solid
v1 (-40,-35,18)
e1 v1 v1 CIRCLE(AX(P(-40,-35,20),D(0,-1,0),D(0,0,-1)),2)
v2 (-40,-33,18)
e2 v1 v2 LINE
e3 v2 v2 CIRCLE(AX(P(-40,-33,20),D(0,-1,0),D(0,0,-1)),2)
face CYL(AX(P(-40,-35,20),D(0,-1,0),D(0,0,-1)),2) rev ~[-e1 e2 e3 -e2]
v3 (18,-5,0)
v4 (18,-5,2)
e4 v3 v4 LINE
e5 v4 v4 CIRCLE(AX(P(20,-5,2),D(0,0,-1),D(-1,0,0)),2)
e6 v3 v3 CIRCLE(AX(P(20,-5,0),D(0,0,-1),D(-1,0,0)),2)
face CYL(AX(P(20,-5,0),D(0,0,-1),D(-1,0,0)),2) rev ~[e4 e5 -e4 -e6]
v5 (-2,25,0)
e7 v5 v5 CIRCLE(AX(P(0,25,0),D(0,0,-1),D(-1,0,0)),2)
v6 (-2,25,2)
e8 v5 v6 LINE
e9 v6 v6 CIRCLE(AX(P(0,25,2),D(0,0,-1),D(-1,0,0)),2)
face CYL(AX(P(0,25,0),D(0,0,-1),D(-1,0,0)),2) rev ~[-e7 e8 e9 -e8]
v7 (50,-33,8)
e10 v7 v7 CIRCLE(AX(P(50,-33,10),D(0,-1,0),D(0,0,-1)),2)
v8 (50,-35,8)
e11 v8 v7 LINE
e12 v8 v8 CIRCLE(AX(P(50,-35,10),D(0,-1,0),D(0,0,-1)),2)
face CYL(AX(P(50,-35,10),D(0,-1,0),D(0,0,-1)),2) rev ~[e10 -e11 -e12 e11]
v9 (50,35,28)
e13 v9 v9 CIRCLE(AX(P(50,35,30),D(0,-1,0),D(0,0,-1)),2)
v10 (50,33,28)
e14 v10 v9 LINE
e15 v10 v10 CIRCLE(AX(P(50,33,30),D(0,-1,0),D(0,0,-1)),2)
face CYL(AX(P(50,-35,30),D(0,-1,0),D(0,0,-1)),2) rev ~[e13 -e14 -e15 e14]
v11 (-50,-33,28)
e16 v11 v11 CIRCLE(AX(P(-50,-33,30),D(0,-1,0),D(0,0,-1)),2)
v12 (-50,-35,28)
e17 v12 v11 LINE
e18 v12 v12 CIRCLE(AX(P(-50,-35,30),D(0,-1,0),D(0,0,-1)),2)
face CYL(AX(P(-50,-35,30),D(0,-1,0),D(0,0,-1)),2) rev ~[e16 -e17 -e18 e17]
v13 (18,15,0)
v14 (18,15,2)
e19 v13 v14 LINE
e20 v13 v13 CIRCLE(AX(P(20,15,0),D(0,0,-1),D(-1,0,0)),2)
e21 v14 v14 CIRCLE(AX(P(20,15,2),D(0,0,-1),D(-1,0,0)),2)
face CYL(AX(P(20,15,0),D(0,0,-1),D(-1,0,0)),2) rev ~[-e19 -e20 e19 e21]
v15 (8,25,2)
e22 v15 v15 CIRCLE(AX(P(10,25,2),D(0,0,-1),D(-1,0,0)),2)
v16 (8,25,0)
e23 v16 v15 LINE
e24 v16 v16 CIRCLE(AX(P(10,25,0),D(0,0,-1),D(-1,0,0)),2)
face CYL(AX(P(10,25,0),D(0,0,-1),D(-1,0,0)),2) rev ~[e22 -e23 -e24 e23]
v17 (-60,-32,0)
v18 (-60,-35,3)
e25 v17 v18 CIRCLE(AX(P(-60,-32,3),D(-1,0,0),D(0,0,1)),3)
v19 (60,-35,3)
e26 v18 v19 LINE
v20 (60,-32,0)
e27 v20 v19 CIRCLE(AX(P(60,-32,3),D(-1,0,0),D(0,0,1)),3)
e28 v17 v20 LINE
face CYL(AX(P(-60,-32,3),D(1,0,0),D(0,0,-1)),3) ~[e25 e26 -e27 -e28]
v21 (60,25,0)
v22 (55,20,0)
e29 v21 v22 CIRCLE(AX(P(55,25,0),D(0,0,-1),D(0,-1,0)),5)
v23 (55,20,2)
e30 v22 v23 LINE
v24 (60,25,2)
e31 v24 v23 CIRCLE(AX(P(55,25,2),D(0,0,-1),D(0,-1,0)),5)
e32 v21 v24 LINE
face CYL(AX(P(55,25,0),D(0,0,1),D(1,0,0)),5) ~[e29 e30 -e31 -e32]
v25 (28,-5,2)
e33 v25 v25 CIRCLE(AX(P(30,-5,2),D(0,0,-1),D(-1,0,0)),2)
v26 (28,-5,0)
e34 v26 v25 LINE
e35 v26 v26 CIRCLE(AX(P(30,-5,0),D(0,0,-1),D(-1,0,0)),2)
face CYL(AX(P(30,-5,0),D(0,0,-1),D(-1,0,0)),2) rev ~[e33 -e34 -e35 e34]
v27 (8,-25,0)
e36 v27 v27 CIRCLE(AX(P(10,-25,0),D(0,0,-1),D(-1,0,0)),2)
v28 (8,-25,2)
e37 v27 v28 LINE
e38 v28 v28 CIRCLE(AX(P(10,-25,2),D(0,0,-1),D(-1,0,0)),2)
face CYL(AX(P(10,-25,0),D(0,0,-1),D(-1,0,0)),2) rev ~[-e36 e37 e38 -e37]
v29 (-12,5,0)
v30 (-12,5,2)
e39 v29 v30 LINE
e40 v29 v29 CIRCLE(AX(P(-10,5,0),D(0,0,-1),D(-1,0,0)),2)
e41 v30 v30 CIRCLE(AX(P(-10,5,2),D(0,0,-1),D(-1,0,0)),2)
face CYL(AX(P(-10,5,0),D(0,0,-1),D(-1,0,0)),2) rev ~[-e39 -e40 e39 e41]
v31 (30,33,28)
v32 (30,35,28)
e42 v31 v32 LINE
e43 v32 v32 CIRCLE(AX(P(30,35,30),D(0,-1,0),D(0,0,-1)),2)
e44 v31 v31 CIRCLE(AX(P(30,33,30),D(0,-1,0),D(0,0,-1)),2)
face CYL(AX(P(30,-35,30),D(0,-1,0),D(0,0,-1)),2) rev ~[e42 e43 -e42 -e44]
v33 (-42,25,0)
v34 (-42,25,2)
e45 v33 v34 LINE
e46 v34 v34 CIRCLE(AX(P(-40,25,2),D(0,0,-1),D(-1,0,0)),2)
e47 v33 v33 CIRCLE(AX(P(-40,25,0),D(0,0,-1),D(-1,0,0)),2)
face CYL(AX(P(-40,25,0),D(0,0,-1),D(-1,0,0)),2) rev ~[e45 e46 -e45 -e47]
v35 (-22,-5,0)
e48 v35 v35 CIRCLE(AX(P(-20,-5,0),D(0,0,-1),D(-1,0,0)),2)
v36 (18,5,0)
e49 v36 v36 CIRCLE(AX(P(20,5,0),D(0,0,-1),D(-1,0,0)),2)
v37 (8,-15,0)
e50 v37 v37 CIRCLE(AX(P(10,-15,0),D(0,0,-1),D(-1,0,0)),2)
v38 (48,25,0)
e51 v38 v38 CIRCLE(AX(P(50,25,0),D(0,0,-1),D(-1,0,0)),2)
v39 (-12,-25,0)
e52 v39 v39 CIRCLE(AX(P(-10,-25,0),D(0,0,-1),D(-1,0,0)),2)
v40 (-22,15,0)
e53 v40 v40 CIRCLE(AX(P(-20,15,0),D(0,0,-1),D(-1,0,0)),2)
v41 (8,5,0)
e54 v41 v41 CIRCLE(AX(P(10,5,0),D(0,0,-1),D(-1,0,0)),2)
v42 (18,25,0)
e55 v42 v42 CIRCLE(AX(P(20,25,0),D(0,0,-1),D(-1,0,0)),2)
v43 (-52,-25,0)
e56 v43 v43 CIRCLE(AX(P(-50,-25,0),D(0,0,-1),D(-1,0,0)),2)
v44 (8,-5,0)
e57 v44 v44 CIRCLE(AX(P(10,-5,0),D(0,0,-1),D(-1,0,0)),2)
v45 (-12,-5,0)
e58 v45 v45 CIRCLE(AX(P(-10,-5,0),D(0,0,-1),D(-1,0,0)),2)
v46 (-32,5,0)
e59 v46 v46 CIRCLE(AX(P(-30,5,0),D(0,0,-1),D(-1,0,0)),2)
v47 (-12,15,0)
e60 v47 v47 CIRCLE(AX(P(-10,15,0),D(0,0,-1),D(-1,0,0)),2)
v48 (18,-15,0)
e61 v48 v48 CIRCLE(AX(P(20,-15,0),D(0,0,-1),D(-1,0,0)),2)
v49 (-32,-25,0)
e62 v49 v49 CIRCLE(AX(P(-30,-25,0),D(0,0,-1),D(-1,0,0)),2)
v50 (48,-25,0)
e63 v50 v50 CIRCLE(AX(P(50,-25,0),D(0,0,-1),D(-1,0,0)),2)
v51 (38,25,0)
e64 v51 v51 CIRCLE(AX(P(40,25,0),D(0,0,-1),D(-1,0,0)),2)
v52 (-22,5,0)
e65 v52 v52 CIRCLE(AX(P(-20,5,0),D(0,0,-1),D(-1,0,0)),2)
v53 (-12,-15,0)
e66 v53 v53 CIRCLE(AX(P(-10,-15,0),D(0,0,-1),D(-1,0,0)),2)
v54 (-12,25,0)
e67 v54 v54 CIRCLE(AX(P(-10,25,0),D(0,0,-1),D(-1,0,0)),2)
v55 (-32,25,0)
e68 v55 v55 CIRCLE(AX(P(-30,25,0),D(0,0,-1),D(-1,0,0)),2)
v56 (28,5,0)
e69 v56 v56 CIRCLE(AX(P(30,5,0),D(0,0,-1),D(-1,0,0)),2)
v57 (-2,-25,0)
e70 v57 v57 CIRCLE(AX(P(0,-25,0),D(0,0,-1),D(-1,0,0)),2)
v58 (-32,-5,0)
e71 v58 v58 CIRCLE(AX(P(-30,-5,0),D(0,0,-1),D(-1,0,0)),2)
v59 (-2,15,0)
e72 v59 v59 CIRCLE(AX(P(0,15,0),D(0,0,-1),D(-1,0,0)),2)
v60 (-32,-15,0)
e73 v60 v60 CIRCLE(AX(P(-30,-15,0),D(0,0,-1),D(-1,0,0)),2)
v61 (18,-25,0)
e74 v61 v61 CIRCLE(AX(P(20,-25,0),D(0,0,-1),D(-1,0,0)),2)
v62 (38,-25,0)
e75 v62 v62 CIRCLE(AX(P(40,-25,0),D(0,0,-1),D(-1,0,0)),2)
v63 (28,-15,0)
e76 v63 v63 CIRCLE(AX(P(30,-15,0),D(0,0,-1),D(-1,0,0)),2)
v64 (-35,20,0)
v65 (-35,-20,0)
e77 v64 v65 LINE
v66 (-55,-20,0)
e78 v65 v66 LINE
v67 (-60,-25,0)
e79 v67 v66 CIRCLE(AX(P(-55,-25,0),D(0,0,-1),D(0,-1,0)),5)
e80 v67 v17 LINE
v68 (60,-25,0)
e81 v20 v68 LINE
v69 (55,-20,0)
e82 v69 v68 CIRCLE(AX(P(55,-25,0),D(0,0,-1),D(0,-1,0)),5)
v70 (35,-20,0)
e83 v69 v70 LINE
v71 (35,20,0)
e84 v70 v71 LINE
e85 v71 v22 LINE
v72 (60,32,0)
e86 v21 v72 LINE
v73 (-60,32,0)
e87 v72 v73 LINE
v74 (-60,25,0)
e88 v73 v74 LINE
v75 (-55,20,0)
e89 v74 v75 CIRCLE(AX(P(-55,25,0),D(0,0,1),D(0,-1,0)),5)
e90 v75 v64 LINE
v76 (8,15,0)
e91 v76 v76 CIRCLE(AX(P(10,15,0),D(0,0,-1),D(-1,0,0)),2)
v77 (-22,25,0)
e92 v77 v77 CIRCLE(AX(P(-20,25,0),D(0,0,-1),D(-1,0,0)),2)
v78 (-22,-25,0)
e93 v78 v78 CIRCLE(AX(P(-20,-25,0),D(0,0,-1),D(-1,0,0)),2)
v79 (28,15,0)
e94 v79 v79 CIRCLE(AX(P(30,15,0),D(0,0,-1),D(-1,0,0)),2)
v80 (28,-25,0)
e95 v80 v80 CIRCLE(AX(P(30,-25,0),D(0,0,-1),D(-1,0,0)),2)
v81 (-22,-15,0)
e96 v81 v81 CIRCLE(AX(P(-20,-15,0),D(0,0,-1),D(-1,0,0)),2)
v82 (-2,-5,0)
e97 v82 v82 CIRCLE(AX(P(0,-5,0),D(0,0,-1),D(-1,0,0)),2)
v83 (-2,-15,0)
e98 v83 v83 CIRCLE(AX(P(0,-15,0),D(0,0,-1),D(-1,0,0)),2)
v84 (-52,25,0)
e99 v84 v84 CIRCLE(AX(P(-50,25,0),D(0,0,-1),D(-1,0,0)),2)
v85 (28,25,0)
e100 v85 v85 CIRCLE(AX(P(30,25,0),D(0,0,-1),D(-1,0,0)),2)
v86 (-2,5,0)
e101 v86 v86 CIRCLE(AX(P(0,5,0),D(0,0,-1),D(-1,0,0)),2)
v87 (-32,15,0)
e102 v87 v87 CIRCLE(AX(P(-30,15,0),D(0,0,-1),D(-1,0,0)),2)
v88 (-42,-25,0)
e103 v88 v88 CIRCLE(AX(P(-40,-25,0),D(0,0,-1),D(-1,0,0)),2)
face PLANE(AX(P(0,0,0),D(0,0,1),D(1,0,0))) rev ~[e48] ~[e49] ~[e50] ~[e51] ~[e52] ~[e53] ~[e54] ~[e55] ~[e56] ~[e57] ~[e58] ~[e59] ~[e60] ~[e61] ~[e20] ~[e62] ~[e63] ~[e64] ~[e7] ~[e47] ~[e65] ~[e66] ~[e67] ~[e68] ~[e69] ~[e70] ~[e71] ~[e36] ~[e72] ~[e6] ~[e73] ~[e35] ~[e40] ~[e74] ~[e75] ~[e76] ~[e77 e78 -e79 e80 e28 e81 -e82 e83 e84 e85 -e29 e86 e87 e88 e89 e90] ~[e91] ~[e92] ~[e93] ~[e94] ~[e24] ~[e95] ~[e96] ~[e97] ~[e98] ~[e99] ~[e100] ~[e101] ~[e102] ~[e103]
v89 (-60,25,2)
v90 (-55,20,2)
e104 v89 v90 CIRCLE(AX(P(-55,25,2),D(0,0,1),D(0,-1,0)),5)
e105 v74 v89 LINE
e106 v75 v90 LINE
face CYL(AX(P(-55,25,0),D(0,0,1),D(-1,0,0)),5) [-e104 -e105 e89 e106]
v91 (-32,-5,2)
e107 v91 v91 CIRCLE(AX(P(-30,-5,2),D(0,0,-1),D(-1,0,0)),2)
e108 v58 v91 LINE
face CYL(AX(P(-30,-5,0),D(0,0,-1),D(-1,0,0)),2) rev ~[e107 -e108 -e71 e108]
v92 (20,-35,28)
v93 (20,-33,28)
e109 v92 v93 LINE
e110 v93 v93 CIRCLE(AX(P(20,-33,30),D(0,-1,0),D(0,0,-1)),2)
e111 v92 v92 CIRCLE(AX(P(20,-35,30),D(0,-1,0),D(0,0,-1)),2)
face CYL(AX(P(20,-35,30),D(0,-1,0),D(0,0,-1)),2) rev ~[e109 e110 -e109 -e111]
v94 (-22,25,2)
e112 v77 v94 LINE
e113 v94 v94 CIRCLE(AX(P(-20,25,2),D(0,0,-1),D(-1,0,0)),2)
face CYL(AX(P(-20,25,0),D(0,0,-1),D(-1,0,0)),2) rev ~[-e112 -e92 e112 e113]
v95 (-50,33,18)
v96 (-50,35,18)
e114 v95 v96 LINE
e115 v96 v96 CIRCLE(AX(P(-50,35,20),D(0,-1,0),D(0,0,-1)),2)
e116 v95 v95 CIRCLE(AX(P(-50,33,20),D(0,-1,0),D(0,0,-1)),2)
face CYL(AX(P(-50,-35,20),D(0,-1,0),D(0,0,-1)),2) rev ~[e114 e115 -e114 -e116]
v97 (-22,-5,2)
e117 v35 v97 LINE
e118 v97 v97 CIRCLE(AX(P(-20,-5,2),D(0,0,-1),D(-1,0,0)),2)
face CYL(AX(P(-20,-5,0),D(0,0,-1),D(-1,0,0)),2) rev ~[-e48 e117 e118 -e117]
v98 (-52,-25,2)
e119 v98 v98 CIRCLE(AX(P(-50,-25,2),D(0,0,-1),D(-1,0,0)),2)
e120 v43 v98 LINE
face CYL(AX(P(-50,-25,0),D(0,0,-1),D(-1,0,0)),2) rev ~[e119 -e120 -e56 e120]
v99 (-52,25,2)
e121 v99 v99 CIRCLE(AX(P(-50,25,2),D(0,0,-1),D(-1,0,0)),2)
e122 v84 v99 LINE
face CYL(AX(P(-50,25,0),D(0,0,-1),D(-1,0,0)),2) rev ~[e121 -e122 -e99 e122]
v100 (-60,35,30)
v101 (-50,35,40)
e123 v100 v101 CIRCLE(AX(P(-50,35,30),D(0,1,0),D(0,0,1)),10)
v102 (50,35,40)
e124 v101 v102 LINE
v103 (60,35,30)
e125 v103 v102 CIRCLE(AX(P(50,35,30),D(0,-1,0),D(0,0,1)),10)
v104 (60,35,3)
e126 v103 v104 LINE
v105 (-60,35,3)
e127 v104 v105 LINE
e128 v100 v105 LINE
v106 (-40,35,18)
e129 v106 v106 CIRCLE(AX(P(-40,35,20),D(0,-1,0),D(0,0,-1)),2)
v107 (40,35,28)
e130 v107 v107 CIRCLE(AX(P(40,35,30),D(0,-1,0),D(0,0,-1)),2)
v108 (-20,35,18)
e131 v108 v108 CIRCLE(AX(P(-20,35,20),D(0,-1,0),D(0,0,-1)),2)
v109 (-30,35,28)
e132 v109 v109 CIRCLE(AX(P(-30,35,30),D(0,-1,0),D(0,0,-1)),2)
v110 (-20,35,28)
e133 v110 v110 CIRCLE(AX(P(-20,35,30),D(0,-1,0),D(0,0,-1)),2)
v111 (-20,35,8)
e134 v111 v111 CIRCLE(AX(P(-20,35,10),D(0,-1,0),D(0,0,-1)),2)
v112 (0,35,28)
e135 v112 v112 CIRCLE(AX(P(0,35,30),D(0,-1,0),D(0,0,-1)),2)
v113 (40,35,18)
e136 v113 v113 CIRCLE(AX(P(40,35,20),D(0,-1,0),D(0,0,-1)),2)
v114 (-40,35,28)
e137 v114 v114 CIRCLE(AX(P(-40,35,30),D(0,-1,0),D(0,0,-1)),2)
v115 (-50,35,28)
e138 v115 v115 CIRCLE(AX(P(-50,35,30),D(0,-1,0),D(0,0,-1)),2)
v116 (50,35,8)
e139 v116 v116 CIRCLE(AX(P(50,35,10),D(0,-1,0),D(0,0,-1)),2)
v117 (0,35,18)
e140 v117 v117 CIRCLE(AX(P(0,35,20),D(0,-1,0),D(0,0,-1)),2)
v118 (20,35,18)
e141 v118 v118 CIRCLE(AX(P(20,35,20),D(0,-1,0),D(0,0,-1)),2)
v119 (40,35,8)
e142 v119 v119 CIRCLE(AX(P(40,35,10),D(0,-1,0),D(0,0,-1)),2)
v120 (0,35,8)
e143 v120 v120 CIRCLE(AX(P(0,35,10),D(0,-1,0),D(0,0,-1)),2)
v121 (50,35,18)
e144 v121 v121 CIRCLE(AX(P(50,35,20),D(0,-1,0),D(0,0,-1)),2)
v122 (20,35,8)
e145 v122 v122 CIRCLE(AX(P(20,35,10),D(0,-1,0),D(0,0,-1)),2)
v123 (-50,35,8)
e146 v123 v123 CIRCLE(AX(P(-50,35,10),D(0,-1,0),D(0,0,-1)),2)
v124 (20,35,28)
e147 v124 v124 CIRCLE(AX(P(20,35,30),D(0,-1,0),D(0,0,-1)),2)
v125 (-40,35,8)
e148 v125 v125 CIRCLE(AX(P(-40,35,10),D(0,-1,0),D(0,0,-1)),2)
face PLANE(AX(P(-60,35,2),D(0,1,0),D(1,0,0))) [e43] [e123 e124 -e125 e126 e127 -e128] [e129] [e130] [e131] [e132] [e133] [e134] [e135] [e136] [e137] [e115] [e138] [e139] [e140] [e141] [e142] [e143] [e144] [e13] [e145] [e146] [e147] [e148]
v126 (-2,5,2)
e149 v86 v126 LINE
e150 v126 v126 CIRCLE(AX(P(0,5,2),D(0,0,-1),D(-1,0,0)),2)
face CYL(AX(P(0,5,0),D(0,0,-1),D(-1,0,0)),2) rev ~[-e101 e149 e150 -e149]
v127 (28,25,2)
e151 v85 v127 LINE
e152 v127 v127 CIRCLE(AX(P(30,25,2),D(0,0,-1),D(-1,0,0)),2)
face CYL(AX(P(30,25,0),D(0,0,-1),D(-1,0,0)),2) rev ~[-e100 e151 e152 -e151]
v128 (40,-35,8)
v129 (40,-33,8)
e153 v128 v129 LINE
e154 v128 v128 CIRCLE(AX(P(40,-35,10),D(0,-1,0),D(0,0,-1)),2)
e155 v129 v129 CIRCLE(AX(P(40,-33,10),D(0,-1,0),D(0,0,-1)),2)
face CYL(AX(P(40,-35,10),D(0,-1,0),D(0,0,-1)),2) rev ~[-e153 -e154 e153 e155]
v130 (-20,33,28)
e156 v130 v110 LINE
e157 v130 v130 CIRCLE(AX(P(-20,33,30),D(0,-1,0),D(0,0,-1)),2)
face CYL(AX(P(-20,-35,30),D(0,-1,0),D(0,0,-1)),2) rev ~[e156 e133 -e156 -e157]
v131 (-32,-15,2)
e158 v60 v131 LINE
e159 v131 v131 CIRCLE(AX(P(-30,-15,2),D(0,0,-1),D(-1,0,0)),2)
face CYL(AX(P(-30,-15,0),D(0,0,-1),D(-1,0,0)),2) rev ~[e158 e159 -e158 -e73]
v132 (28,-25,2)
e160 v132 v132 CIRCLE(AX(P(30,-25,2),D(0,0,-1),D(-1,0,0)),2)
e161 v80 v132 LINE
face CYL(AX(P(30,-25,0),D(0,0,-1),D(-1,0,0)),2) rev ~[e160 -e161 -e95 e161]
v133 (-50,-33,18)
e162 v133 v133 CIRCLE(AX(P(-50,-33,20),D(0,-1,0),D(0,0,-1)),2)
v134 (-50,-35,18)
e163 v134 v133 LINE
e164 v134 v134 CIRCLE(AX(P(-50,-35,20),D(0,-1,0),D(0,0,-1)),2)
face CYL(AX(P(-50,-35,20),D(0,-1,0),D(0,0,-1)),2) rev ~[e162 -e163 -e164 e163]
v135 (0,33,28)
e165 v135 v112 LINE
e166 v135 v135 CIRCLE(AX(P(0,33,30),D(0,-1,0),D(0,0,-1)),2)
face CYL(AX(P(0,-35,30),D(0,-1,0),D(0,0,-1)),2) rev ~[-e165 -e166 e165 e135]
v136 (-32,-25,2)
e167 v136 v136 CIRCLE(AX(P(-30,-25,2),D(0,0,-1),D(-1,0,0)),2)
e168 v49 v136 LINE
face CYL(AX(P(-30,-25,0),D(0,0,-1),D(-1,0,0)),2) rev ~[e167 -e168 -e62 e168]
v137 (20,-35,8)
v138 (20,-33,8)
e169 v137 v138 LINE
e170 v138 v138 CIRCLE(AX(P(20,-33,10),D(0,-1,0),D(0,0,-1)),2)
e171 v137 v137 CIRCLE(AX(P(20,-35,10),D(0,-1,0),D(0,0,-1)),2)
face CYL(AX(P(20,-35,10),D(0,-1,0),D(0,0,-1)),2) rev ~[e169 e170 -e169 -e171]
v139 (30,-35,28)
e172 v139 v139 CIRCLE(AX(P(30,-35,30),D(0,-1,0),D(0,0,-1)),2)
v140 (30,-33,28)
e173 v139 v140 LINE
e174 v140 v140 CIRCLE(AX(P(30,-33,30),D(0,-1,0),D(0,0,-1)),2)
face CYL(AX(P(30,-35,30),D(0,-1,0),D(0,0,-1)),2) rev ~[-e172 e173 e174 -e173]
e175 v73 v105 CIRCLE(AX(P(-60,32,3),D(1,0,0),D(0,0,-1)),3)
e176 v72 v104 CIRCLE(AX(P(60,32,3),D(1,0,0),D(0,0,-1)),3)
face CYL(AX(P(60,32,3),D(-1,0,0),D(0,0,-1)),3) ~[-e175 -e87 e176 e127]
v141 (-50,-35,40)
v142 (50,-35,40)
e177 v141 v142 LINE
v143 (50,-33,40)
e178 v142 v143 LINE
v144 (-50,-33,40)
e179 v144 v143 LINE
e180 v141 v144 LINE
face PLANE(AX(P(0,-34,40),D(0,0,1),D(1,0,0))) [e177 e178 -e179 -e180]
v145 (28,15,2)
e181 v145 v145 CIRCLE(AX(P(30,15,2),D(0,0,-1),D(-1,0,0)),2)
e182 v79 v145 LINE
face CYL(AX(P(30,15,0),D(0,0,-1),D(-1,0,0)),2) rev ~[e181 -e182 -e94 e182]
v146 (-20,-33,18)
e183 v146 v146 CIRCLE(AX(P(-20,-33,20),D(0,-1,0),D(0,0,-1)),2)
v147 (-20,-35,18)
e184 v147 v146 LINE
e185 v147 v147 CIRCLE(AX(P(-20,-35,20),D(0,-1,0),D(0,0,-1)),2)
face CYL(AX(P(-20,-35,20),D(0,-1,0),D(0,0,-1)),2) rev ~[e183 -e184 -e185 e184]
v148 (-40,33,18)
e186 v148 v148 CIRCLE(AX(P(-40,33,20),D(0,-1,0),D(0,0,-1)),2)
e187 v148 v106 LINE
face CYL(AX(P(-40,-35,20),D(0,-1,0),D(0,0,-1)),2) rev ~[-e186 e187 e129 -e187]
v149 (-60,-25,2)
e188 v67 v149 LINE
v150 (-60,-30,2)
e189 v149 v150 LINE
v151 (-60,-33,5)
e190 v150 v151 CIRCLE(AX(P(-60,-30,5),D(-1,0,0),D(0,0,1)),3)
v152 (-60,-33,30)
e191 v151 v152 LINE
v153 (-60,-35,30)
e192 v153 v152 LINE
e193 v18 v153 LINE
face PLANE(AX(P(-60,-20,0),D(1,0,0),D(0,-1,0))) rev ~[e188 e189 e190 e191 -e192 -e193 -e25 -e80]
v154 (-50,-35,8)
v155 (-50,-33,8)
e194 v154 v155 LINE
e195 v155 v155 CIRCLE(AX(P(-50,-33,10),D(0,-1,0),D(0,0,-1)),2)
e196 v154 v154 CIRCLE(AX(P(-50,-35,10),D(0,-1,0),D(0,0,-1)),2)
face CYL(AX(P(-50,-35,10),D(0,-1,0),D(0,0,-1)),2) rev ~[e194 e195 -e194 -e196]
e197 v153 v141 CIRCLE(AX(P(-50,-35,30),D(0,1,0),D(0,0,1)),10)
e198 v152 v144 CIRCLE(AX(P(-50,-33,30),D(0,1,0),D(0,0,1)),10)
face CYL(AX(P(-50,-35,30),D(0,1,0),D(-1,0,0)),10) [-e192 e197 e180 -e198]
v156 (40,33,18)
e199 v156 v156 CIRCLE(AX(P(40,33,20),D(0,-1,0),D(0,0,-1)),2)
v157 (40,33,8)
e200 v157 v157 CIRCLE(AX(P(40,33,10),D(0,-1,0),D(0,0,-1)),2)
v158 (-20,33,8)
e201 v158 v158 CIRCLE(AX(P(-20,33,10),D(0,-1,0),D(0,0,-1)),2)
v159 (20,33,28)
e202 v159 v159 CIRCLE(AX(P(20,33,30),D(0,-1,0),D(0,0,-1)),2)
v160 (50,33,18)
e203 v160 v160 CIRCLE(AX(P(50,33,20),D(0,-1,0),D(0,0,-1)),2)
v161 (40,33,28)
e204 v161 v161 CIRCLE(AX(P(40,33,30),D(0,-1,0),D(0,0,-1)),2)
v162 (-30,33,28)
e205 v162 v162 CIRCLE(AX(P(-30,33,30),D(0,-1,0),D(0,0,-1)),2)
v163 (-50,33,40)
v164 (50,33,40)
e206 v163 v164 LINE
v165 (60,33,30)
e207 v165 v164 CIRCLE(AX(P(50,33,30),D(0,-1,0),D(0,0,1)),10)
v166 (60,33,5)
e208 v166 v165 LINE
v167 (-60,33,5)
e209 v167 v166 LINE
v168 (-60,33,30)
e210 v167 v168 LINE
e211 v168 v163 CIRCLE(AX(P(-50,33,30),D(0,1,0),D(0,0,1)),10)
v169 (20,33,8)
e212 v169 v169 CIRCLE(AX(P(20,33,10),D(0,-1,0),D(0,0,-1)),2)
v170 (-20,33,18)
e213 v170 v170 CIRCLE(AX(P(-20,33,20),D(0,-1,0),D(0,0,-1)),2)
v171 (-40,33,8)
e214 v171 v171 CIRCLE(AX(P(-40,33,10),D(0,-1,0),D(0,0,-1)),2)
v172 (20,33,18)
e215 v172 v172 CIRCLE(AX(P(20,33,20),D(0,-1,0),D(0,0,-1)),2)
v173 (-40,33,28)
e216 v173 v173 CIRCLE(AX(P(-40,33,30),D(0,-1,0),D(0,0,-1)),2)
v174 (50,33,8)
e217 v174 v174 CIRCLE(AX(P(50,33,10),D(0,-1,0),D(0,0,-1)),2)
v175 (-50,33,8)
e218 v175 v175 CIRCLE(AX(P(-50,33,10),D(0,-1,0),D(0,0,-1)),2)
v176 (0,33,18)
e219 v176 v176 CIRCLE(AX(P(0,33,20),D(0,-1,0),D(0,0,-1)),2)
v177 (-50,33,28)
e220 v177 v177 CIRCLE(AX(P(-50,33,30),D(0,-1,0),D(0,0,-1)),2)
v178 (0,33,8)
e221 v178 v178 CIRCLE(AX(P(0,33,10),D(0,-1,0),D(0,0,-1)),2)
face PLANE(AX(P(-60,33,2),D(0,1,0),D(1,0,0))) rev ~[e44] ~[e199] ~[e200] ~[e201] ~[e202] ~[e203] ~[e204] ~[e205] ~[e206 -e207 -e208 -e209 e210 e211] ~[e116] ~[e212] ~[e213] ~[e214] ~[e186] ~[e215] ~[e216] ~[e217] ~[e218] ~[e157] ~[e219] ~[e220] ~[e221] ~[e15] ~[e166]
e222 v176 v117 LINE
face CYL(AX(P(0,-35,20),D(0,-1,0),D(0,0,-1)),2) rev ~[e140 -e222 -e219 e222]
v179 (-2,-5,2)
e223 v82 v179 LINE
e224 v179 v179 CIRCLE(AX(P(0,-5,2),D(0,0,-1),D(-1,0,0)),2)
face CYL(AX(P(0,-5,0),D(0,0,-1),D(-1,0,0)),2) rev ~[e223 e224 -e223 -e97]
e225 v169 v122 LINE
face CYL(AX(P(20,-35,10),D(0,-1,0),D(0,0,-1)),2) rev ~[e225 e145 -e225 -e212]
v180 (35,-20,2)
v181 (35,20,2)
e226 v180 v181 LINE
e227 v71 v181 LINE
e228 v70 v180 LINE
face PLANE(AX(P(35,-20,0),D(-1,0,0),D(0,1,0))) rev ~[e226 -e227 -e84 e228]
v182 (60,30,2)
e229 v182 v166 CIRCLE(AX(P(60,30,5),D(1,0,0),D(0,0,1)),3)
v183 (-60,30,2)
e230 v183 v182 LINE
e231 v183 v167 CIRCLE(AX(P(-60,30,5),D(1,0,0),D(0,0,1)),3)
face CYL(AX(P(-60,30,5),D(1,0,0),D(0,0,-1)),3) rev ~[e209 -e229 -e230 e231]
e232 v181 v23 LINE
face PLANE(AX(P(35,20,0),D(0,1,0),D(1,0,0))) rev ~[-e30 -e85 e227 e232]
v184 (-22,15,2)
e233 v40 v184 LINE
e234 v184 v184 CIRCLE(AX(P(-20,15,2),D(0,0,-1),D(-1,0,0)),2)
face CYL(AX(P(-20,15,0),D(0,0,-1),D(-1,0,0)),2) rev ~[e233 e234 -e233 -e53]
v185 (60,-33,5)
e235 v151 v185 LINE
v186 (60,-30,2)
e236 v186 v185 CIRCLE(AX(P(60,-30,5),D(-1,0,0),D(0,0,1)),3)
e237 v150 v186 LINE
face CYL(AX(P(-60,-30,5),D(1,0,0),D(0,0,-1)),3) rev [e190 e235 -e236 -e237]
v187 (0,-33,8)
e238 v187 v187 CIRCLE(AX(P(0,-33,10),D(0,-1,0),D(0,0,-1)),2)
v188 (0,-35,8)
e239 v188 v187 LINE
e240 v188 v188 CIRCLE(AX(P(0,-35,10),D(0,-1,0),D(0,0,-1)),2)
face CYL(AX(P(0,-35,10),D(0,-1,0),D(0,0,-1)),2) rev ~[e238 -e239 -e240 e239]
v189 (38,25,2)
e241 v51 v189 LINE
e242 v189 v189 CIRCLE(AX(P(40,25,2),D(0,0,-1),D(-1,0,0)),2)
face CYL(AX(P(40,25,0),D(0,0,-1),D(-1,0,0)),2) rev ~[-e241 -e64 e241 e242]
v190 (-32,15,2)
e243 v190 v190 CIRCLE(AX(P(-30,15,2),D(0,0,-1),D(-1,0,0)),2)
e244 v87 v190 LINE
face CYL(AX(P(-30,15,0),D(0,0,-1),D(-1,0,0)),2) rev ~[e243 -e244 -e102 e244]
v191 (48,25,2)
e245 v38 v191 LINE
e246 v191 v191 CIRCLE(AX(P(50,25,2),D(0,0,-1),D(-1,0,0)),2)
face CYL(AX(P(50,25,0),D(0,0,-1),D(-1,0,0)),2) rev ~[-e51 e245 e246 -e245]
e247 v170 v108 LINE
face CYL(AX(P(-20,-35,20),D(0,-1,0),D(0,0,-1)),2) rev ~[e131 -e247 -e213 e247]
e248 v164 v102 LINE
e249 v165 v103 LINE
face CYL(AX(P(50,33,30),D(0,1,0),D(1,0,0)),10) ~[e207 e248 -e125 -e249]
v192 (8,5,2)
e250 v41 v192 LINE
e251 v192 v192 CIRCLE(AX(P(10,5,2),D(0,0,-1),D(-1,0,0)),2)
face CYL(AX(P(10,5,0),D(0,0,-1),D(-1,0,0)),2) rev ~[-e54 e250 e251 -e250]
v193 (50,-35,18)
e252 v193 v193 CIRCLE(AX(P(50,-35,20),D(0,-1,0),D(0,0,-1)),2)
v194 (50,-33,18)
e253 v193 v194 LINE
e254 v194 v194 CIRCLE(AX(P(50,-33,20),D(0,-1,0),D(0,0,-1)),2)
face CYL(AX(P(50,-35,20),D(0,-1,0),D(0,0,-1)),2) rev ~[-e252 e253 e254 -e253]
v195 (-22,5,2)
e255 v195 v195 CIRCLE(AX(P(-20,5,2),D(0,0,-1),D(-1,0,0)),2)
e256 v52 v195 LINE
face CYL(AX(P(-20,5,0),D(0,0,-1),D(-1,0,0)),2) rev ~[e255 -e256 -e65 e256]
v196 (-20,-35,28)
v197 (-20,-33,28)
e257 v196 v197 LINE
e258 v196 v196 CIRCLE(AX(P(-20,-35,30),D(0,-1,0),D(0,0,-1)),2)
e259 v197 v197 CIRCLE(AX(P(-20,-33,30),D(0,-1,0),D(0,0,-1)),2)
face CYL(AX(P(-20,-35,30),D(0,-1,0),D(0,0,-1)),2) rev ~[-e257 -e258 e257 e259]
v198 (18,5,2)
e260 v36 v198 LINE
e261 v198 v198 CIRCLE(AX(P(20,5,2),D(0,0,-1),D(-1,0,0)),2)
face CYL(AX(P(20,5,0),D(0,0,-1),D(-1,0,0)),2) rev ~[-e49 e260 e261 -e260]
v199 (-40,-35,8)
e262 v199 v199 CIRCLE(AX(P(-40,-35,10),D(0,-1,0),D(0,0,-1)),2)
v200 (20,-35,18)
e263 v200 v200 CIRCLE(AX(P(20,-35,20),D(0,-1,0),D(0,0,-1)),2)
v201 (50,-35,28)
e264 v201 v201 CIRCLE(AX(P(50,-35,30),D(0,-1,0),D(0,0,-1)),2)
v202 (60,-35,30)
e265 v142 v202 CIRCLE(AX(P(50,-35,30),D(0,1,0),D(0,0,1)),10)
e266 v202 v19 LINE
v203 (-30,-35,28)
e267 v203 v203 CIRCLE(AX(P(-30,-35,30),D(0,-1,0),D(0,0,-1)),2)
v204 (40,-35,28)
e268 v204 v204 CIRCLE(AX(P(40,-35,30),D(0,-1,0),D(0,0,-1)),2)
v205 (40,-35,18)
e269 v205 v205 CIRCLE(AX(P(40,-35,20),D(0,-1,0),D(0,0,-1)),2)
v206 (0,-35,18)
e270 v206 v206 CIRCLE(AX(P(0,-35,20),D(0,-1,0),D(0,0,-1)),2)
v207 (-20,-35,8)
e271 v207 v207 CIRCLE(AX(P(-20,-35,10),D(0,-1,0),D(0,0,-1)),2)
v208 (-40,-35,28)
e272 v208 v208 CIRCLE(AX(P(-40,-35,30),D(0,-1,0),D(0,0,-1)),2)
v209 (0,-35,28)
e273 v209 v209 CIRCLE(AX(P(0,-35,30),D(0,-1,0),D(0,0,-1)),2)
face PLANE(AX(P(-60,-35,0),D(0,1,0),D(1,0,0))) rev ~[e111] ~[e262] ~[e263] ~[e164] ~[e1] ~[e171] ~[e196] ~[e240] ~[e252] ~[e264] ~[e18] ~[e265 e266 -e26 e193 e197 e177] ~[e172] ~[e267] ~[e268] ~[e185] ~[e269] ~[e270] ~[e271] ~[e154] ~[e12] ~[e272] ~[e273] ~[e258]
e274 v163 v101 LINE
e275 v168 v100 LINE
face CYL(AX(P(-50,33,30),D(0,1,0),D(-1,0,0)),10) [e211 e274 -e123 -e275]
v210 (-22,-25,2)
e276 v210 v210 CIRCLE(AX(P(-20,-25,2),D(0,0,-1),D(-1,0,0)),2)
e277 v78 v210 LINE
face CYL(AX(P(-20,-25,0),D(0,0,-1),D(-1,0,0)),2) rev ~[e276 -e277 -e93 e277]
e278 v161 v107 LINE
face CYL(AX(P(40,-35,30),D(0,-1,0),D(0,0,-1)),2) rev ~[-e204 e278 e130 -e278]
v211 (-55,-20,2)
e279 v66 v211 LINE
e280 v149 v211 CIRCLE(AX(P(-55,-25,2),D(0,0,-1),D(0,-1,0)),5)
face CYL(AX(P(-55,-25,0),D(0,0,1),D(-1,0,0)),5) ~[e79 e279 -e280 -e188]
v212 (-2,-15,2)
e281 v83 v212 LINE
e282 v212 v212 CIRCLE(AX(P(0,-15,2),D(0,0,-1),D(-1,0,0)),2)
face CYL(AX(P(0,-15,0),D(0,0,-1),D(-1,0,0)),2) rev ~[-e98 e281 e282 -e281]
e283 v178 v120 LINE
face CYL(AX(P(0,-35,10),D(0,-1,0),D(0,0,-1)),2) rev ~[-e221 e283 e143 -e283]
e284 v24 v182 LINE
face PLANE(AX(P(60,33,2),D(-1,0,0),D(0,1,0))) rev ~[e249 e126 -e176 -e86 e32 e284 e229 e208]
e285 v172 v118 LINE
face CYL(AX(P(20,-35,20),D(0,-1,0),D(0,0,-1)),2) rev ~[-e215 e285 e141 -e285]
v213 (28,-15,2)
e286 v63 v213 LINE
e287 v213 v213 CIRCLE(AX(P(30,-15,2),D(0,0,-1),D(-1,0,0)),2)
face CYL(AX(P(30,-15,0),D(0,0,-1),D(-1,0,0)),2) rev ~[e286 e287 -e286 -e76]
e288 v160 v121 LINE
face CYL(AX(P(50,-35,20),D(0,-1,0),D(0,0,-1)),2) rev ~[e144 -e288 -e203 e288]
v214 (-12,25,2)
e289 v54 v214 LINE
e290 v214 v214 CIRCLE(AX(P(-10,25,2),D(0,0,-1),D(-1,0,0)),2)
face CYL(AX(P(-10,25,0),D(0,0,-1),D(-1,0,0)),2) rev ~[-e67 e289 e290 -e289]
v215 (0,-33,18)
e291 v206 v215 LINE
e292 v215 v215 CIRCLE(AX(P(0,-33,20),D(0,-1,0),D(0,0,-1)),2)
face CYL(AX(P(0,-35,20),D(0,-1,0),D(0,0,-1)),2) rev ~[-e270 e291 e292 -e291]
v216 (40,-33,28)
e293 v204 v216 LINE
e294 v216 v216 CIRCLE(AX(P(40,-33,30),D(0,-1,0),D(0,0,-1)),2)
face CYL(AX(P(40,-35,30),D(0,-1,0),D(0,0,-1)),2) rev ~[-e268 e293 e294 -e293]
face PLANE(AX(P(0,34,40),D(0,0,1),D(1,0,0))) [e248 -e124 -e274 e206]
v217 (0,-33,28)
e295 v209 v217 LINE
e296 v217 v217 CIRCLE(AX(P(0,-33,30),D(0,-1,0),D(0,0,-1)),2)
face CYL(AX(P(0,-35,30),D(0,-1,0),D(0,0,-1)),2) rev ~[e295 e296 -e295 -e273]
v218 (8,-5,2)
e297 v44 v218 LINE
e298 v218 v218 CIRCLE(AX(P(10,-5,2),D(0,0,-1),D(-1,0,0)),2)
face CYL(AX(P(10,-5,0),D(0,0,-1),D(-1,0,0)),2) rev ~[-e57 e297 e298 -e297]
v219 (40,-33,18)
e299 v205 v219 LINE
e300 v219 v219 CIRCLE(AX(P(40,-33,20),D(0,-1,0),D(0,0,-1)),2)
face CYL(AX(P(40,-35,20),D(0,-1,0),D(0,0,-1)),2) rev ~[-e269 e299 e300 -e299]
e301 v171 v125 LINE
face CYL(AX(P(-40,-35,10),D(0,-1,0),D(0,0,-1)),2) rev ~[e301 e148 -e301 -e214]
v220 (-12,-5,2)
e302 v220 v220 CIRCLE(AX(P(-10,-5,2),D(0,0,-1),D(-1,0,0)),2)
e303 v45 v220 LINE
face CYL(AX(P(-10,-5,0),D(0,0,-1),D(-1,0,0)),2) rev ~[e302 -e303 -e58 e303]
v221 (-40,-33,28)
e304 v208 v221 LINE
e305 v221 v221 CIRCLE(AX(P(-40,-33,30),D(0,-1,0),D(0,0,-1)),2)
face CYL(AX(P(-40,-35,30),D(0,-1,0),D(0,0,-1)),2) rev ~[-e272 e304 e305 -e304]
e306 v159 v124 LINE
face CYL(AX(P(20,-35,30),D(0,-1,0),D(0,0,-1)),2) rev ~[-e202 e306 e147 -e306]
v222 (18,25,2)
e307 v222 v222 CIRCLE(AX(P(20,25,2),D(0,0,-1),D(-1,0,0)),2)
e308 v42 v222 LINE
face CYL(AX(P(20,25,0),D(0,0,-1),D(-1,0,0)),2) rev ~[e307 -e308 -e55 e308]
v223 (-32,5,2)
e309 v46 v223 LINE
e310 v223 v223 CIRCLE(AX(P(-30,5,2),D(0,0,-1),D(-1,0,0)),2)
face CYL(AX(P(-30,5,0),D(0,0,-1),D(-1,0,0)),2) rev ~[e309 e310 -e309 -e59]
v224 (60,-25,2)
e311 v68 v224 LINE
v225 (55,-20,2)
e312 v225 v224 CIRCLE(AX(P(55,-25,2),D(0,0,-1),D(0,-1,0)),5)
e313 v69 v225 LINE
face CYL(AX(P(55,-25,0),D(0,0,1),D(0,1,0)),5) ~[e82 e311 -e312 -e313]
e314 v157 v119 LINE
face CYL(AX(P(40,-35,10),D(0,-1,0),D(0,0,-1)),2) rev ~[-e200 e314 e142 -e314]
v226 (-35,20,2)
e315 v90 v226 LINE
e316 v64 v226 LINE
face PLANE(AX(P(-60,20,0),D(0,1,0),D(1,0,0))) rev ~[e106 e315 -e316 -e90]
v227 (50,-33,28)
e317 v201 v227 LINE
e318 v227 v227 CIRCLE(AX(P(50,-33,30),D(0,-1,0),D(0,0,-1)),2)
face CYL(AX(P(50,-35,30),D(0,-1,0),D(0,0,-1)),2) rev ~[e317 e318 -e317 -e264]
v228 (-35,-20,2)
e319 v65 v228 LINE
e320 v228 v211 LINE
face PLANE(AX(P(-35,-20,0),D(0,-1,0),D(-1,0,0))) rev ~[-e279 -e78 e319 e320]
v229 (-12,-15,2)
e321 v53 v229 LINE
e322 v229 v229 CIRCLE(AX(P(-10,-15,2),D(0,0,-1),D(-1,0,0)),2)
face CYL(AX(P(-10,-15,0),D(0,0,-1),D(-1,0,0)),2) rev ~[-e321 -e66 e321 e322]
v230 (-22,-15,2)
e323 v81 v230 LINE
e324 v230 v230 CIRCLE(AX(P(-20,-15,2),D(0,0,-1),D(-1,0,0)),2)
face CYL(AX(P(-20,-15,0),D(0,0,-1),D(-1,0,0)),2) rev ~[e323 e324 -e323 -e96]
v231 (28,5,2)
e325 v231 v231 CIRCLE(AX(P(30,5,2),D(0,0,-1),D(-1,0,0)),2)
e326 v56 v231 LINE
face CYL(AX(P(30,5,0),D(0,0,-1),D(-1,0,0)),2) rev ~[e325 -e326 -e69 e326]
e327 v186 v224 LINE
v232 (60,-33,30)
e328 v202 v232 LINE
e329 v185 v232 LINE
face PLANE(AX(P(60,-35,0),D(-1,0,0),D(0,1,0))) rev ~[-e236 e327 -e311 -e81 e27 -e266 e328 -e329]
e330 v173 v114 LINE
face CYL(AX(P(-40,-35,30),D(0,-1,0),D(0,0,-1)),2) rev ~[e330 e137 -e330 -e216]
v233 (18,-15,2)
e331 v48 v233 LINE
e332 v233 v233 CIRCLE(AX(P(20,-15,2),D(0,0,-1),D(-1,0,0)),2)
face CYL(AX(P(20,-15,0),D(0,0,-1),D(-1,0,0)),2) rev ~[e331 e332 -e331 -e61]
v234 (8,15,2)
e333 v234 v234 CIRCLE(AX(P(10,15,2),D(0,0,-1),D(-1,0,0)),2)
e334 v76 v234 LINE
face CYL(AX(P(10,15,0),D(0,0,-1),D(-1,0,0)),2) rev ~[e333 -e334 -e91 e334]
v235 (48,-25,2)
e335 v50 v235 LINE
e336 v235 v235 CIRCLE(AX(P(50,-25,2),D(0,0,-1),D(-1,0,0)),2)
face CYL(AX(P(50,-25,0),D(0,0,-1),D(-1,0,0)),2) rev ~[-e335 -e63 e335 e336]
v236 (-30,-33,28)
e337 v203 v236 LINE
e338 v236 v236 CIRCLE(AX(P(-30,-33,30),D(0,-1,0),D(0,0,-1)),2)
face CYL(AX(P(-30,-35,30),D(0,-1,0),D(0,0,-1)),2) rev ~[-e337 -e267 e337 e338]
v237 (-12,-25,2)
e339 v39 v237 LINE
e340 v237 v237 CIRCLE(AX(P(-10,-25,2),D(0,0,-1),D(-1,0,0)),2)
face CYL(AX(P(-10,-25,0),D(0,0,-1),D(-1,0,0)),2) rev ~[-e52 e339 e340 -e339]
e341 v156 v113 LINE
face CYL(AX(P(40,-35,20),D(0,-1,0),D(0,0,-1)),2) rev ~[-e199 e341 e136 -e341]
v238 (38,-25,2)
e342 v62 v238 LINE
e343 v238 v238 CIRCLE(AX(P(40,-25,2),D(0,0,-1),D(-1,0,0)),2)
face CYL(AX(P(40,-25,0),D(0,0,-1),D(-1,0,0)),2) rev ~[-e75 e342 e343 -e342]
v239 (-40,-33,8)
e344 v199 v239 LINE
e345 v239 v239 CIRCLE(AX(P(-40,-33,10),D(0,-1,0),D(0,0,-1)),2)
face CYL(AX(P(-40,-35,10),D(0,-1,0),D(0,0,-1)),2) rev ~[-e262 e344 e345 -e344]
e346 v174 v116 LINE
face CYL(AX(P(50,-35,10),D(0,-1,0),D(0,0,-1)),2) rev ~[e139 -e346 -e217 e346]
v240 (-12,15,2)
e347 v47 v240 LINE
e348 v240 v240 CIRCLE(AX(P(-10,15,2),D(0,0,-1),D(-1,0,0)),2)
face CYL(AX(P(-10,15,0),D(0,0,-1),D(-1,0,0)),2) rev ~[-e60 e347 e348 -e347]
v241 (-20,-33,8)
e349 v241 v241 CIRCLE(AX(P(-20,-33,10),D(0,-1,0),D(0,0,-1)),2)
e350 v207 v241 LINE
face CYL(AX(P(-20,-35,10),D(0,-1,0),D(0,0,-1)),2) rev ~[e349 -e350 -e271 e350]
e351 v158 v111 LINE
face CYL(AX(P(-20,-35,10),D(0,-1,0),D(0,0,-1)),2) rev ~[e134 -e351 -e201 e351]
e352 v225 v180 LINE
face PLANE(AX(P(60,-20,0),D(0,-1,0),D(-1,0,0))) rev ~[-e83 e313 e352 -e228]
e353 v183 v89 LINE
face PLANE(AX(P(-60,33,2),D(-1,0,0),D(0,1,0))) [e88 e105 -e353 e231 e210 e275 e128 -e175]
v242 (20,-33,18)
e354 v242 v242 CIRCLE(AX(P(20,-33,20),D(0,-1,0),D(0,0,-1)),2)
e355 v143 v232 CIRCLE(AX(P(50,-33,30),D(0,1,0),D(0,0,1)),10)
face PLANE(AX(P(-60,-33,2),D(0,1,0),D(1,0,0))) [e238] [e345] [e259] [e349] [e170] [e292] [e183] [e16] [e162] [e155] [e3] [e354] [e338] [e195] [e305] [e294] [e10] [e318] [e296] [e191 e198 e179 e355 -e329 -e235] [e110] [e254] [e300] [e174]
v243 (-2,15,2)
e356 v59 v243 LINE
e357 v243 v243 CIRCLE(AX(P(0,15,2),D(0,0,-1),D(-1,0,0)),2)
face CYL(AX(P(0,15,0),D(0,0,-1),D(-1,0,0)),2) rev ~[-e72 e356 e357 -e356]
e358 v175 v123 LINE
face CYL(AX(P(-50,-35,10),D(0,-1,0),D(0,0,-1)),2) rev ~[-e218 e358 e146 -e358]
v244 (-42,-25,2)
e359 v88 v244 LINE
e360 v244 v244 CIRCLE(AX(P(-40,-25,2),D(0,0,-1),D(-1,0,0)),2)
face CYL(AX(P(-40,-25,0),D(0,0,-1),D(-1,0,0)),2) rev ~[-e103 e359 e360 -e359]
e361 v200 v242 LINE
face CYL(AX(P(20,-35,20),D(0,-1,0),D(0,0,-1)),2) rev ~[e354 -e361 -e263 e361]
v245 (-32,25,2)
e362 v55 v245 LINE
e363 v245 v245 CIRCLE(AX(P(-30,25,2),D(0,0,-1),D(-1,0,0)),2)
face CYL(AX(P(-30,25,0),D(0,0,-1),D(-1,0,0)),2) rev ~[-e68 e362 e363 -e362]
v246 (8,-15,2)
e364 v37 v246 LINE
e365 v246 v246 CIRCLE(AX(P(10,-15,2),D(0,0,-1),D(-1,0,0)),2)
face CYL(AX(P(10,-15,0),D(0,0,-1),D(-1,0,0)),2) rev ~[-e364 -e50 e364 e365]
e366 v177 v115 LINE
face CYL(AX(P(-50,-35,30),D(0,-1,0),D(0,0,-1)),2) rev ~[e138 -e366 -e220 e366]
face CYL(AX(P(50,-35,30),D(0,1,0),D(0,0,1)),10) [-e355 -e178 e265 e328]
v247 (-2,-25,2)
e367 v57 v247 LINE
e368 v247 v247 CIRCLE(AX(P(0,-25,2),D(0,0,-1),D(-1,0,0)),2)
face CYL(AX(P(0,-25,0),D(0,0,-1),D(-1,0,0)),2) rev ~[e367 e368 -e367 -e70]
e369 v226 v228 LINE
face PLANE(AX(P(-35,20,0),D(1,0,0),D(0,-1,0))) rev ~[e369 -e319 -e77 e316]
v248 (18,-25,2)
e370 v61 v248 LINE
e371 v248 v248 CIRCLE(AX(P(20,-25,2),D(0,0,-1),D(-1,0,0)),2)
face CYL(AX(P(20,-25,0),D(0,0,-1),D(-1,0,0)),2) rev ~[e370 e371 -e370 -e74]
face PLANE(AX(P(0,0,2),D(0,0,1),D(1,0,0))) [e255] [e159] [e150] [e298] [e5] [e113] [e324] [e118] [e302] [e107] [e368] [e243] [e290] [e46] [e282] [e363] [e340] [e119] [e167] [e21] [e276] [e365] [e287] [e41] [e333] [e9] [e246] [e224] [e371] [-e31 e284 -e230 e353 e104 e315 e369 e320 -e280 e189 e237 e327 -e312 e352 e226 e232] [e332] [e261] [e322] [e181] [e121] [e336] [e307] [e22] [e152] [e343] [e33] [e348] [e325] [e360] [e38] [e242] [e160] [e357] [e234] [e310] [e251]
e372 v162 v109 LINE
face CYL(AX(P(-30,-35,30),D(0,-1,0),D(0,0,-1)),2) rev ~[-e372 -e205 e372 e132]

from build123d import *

# Parameters (mm, degrees)
Y_KSEKLIK_EKSTR_ZYON1_DEPTH = 2
IZIM2_W                     = 120
IZIM2_H                     = 2
Y_KSEKLIK_EKSTR_ZYON2_DEPTH = 38
RADYUS1_R                   = 10
RADYUS2_R                   = 5
IZIM3_R                     = 2
KES_EKSTR_ZYON1_DEPTH       = 2
RADYUS3_R                   = 3
IZIM4_R                     = 2
KES_EKSTR_ZYON2_DEPTH       = 101.498756211


with BuildPart() as part:
    # Çizim1 → Yükseklik-Ekstrüzyon1 (new body)
    with BuildSketch(Plane.XY):
        Polygon((-60, 20), (-35, 20), (-35, -20), (-60, -20), (-60, -35), (60, -35), (60, -20), (35, -20), (35, 20), (60, 20), (60, 35), (-60, 35), align=None)
    extrude(amount=Y_KSEKLIK_EKSTR_ZYON1_DEPTH)

    # Çizim2 → Yükseklik-Ekstrüzyon2 (add)
    with BuildSketch(Plane.XY.offset(2)):
        with Locations((0, 34)):
            Rectangle(IZIM2_W, IZIM2_H)
        with Locations((0, -34)):
            Rectangle(IZIM2_W, IZIM2_H)
    extrude(amount=Y_KSEKLIK_EKSTR_ZYON2_DEPTH)

    # Radyus1
    radyus1_edges = [part.edges().sort_by_distance(p)[0] for p in [
        (-60, 34, 40),
        (60, 34, 40),
        (60, -34, 40),
        (-60, -34, 40),
    ]]
    fillet(radyus1_edges, radius=RADYUS1_R)

    # Radyus2
    radyus2_edges = [part.edges().sort_by_distance(p)[0] for p in [
        (60, -20, 1),
        (60, 20, 1),
        (-60, -20, 1),
        (-60, 20, 1),
    ]]
    fillet(radyus2_edges, radius=RADYUS2_R)

    # Çizim3 → Kes-Ekstrüzyon1 (cut)
    with BuildSketch(Plane(origin=(0, 0, 0), x_dir=(-1, 0, 0), z_dir=(0, 0, -1))):
        with Locations((30, -25)):
            Circle(IZIM3_R)
        with Locations((40, -25)):
            Circle(IZIM3_R)
        with Locations((50, -25)):
            Circle(IZIM3_R)
        with Locations((20, -25)):
            Circle(IZIM3_R)
        with Locations((10, -25)):
            Circle(IZIM3_R)
        with Locations((0, -25)):
            Circle(IZIM3_R)
        with Locations((-10, -25)):
            Circle(IZIM3_R)
        with Locations((-20, -25)):
            Circle(IZIM3_R)
        with Locations((-30, -25)):
            Circle(IZIM3_R)
        with Locations((20, -15)):
            Circle(IZIM3_R)
        with Locations((10, -15)):
            Circle(IZIM3_R)
        with Locations((0, -15)):
            Circle(IZIM3_R)
        with Locations((-10, -15)):
            Circle(IZIM3_R)
        with Locations((-20, -15)):
            Circle(IZIM3_R)
        with Locations((-30, -15)):
            Circle(IZIM3_R)
        with Locations((20, -5)):
            Circle(IZIM3_R)
        with Locations((10, -5)):
            Circle(IZIM3_R)
        with Locations((0, -5)):
            Circle(IZIM3_R)
        with Locations((-10, -5)):
            Circle(IZIM3_R)
        with Locations((-20, -5)):
            Circle(IZIM3_R)
        with Locations((-30, -5)):
            Circle(IZIM3_R)
        with Locations((20, 5)):
            Circle(IZIM3_R)
        with Locations((10, 5)):
            Circle(IZIM3_R)
        with Locations((0, 5)):
            Circle(IZIM3_R)
        with Locations((-10, 5)):
            Circle(IZIM3_R)
        with Locations((-20, 5)):
            Circle(IZIM3_R)
        with Locations((-30, 5)):
            Circle(IZIM3_R)
        with Locations((20, 15)):
            Circle(IZIM3_R)
        with Locations((10, 15)):
            Circle(IZIM3_R)
        with Locations((0, 15)):
            Circle(IZIM3_R)
        with Locations((-10, 15)):
            Circle(IZIM3_R)
        with Locations((-20, 15)):
            Circle(IZIM3_R)
        with Locations((-30, 15)):
            Circle(IZIM3_R)
        with Locations((20, 25)):
            Circle(IZIM3_R)
        with Locations((10, 25)):
            Circle(IZIM3_R)
        with Locations((0, 25)):
            Circle(IZIM3_R)
        with Locations((-10, 25)):
            Circle(IZIM3_R)
        with Locations((-20, 25)):
            Circle(IZIM3_R)
        with Locations((-30, 25)):
            Circle(IZIM3_R)
        with Locations((30, -15)):
            Circle(IZIM3_R)
        with Locations((30, -5)):
            Circle(IZIM3_R)
        with Locations((30, 5)):
            Circle(IZIM3_R)
        with Locations((30, 15)):
            Circle(IZIM3_R)
        with Locations((30, 25)):
            Circle(IZIM3_R)
        with Locations((40, 25)):
            Circle(IZIM3_R)
        with Locations((50, 25)):
            Circle(IZIM3_R)
        with Locations((-40, 25)):
            Circle(IZIM3_R)
        with Locations((-50, 25)):
            Circle(IZIM3_R)
        with Locations((-40, -25)):
            Circle(IZIM3_R)
        with Locations((-50, -25)):
            Circle(IZIM3_R)
    extrude(amount=-KES_EKSTR_ZYON1_DEPTH, mode=Mode.SUBTRACT)

    # Radyus3
    radyus3_edges = [part.edges().sort_by_distance(p)[0] for p in [
        (0, 35, 0),
        (0, 33, 2),
        (0, -33, 2),
        (0, -35, 0),
    ]]
    fillet(radyus3_edges, radius=RADYUS3_R)

    # Çizim4 → Kes-Ekstrüzyon2 (cut, through all)
    with BuildSketch(Plane.XZ.offset(35)):
        with Locations(Location((0, 10, 0), (0, 0, 270))):
            Circle(IZIM4_R)
        with Locations(Location((20, 10, 0), (0, 0, 270))):
            Circle(IZIM4_R)
        with Locations(Location((40, 10, 0), (0, 0, 270))):
            Circle(IZIM4_R)
        with Locations(Location((20, 20, 0), (0, 0, 270))):
            Circle(IZIM4_R)
        with Locations(Location((40, 20, 0), (0, 0, 270))):
            Circle(IZIM4_R)
        with Locations(Location((20, 30, 0), (0, 0, 270))):
            Circle(IZIM4_R)
        with Locations(Location((40, 30, 0), (0, 0, 270))):
            Circle(IZIM4_R)
        with Locations(Location((0, 20, 0), (0, 0, 270))):
            Circle(IZIM4_R)
        with Locations(Location((0, 30, 0), (0, 0, 270))):
            Circle(IZIM4_R)
        with Locations(Location((-20, 10, 0), (0, 0, 270))):
            Circle(IZIM4_R)
        with Locations(Location((-40, 10, 0), (0, 0, 270))):
            Circle(IZIM4_R)
        with Locations(Location((-40, 20, 0), (0, 0, 270))):
            Circle(IZIM4_R)
        with Locations(Location((-40, 30, 0), (0, 0, 270))):
            Circle(IZIM4_R)
        with Locations(Location((-20, 20, 0), (0, 0, 270))):
            Circle(IZIM4_R)
        with Locations(Location((-20, 30, 0), (0, 0, 270))):
            Circle(IZIM4_R)
        with Locations(Location((30, 30, 0), (0, 0, 270))):
            Circle(IZIM4_R)
        with Locations(Location((-30, 30, 0), (0, 0, 270))):
            Circle(IZIM4_R)
        with Locations(Location((50, 10, 0), (0, 0, 270))):
            Circle(IZIM4_R)
        with Locations(Location((50, 20, 0), (0, 0, 270))):
            Circle(IZIM4_R)
        with Locations(Location((50, 30, 0), (0, 0, 270))):
            Circle(IZIM4_R)
        with Locations(Location((-50, 10, 0), (0, 0, 270))):
            Circle(IZIM4_R)
        with Locations(Location((-50, 20, 0), (0, 0, 270))):
            Circle(IZIM4_R)
        with Locations(Location((-50, 30, 0), (0, 0, 270))):
            Circle(IZIM4_R)
    extrude(amount=-KES_EKSTR_ZYON2_DEPTH, mode=Mode.SUBTRACT)


solid = part.part
